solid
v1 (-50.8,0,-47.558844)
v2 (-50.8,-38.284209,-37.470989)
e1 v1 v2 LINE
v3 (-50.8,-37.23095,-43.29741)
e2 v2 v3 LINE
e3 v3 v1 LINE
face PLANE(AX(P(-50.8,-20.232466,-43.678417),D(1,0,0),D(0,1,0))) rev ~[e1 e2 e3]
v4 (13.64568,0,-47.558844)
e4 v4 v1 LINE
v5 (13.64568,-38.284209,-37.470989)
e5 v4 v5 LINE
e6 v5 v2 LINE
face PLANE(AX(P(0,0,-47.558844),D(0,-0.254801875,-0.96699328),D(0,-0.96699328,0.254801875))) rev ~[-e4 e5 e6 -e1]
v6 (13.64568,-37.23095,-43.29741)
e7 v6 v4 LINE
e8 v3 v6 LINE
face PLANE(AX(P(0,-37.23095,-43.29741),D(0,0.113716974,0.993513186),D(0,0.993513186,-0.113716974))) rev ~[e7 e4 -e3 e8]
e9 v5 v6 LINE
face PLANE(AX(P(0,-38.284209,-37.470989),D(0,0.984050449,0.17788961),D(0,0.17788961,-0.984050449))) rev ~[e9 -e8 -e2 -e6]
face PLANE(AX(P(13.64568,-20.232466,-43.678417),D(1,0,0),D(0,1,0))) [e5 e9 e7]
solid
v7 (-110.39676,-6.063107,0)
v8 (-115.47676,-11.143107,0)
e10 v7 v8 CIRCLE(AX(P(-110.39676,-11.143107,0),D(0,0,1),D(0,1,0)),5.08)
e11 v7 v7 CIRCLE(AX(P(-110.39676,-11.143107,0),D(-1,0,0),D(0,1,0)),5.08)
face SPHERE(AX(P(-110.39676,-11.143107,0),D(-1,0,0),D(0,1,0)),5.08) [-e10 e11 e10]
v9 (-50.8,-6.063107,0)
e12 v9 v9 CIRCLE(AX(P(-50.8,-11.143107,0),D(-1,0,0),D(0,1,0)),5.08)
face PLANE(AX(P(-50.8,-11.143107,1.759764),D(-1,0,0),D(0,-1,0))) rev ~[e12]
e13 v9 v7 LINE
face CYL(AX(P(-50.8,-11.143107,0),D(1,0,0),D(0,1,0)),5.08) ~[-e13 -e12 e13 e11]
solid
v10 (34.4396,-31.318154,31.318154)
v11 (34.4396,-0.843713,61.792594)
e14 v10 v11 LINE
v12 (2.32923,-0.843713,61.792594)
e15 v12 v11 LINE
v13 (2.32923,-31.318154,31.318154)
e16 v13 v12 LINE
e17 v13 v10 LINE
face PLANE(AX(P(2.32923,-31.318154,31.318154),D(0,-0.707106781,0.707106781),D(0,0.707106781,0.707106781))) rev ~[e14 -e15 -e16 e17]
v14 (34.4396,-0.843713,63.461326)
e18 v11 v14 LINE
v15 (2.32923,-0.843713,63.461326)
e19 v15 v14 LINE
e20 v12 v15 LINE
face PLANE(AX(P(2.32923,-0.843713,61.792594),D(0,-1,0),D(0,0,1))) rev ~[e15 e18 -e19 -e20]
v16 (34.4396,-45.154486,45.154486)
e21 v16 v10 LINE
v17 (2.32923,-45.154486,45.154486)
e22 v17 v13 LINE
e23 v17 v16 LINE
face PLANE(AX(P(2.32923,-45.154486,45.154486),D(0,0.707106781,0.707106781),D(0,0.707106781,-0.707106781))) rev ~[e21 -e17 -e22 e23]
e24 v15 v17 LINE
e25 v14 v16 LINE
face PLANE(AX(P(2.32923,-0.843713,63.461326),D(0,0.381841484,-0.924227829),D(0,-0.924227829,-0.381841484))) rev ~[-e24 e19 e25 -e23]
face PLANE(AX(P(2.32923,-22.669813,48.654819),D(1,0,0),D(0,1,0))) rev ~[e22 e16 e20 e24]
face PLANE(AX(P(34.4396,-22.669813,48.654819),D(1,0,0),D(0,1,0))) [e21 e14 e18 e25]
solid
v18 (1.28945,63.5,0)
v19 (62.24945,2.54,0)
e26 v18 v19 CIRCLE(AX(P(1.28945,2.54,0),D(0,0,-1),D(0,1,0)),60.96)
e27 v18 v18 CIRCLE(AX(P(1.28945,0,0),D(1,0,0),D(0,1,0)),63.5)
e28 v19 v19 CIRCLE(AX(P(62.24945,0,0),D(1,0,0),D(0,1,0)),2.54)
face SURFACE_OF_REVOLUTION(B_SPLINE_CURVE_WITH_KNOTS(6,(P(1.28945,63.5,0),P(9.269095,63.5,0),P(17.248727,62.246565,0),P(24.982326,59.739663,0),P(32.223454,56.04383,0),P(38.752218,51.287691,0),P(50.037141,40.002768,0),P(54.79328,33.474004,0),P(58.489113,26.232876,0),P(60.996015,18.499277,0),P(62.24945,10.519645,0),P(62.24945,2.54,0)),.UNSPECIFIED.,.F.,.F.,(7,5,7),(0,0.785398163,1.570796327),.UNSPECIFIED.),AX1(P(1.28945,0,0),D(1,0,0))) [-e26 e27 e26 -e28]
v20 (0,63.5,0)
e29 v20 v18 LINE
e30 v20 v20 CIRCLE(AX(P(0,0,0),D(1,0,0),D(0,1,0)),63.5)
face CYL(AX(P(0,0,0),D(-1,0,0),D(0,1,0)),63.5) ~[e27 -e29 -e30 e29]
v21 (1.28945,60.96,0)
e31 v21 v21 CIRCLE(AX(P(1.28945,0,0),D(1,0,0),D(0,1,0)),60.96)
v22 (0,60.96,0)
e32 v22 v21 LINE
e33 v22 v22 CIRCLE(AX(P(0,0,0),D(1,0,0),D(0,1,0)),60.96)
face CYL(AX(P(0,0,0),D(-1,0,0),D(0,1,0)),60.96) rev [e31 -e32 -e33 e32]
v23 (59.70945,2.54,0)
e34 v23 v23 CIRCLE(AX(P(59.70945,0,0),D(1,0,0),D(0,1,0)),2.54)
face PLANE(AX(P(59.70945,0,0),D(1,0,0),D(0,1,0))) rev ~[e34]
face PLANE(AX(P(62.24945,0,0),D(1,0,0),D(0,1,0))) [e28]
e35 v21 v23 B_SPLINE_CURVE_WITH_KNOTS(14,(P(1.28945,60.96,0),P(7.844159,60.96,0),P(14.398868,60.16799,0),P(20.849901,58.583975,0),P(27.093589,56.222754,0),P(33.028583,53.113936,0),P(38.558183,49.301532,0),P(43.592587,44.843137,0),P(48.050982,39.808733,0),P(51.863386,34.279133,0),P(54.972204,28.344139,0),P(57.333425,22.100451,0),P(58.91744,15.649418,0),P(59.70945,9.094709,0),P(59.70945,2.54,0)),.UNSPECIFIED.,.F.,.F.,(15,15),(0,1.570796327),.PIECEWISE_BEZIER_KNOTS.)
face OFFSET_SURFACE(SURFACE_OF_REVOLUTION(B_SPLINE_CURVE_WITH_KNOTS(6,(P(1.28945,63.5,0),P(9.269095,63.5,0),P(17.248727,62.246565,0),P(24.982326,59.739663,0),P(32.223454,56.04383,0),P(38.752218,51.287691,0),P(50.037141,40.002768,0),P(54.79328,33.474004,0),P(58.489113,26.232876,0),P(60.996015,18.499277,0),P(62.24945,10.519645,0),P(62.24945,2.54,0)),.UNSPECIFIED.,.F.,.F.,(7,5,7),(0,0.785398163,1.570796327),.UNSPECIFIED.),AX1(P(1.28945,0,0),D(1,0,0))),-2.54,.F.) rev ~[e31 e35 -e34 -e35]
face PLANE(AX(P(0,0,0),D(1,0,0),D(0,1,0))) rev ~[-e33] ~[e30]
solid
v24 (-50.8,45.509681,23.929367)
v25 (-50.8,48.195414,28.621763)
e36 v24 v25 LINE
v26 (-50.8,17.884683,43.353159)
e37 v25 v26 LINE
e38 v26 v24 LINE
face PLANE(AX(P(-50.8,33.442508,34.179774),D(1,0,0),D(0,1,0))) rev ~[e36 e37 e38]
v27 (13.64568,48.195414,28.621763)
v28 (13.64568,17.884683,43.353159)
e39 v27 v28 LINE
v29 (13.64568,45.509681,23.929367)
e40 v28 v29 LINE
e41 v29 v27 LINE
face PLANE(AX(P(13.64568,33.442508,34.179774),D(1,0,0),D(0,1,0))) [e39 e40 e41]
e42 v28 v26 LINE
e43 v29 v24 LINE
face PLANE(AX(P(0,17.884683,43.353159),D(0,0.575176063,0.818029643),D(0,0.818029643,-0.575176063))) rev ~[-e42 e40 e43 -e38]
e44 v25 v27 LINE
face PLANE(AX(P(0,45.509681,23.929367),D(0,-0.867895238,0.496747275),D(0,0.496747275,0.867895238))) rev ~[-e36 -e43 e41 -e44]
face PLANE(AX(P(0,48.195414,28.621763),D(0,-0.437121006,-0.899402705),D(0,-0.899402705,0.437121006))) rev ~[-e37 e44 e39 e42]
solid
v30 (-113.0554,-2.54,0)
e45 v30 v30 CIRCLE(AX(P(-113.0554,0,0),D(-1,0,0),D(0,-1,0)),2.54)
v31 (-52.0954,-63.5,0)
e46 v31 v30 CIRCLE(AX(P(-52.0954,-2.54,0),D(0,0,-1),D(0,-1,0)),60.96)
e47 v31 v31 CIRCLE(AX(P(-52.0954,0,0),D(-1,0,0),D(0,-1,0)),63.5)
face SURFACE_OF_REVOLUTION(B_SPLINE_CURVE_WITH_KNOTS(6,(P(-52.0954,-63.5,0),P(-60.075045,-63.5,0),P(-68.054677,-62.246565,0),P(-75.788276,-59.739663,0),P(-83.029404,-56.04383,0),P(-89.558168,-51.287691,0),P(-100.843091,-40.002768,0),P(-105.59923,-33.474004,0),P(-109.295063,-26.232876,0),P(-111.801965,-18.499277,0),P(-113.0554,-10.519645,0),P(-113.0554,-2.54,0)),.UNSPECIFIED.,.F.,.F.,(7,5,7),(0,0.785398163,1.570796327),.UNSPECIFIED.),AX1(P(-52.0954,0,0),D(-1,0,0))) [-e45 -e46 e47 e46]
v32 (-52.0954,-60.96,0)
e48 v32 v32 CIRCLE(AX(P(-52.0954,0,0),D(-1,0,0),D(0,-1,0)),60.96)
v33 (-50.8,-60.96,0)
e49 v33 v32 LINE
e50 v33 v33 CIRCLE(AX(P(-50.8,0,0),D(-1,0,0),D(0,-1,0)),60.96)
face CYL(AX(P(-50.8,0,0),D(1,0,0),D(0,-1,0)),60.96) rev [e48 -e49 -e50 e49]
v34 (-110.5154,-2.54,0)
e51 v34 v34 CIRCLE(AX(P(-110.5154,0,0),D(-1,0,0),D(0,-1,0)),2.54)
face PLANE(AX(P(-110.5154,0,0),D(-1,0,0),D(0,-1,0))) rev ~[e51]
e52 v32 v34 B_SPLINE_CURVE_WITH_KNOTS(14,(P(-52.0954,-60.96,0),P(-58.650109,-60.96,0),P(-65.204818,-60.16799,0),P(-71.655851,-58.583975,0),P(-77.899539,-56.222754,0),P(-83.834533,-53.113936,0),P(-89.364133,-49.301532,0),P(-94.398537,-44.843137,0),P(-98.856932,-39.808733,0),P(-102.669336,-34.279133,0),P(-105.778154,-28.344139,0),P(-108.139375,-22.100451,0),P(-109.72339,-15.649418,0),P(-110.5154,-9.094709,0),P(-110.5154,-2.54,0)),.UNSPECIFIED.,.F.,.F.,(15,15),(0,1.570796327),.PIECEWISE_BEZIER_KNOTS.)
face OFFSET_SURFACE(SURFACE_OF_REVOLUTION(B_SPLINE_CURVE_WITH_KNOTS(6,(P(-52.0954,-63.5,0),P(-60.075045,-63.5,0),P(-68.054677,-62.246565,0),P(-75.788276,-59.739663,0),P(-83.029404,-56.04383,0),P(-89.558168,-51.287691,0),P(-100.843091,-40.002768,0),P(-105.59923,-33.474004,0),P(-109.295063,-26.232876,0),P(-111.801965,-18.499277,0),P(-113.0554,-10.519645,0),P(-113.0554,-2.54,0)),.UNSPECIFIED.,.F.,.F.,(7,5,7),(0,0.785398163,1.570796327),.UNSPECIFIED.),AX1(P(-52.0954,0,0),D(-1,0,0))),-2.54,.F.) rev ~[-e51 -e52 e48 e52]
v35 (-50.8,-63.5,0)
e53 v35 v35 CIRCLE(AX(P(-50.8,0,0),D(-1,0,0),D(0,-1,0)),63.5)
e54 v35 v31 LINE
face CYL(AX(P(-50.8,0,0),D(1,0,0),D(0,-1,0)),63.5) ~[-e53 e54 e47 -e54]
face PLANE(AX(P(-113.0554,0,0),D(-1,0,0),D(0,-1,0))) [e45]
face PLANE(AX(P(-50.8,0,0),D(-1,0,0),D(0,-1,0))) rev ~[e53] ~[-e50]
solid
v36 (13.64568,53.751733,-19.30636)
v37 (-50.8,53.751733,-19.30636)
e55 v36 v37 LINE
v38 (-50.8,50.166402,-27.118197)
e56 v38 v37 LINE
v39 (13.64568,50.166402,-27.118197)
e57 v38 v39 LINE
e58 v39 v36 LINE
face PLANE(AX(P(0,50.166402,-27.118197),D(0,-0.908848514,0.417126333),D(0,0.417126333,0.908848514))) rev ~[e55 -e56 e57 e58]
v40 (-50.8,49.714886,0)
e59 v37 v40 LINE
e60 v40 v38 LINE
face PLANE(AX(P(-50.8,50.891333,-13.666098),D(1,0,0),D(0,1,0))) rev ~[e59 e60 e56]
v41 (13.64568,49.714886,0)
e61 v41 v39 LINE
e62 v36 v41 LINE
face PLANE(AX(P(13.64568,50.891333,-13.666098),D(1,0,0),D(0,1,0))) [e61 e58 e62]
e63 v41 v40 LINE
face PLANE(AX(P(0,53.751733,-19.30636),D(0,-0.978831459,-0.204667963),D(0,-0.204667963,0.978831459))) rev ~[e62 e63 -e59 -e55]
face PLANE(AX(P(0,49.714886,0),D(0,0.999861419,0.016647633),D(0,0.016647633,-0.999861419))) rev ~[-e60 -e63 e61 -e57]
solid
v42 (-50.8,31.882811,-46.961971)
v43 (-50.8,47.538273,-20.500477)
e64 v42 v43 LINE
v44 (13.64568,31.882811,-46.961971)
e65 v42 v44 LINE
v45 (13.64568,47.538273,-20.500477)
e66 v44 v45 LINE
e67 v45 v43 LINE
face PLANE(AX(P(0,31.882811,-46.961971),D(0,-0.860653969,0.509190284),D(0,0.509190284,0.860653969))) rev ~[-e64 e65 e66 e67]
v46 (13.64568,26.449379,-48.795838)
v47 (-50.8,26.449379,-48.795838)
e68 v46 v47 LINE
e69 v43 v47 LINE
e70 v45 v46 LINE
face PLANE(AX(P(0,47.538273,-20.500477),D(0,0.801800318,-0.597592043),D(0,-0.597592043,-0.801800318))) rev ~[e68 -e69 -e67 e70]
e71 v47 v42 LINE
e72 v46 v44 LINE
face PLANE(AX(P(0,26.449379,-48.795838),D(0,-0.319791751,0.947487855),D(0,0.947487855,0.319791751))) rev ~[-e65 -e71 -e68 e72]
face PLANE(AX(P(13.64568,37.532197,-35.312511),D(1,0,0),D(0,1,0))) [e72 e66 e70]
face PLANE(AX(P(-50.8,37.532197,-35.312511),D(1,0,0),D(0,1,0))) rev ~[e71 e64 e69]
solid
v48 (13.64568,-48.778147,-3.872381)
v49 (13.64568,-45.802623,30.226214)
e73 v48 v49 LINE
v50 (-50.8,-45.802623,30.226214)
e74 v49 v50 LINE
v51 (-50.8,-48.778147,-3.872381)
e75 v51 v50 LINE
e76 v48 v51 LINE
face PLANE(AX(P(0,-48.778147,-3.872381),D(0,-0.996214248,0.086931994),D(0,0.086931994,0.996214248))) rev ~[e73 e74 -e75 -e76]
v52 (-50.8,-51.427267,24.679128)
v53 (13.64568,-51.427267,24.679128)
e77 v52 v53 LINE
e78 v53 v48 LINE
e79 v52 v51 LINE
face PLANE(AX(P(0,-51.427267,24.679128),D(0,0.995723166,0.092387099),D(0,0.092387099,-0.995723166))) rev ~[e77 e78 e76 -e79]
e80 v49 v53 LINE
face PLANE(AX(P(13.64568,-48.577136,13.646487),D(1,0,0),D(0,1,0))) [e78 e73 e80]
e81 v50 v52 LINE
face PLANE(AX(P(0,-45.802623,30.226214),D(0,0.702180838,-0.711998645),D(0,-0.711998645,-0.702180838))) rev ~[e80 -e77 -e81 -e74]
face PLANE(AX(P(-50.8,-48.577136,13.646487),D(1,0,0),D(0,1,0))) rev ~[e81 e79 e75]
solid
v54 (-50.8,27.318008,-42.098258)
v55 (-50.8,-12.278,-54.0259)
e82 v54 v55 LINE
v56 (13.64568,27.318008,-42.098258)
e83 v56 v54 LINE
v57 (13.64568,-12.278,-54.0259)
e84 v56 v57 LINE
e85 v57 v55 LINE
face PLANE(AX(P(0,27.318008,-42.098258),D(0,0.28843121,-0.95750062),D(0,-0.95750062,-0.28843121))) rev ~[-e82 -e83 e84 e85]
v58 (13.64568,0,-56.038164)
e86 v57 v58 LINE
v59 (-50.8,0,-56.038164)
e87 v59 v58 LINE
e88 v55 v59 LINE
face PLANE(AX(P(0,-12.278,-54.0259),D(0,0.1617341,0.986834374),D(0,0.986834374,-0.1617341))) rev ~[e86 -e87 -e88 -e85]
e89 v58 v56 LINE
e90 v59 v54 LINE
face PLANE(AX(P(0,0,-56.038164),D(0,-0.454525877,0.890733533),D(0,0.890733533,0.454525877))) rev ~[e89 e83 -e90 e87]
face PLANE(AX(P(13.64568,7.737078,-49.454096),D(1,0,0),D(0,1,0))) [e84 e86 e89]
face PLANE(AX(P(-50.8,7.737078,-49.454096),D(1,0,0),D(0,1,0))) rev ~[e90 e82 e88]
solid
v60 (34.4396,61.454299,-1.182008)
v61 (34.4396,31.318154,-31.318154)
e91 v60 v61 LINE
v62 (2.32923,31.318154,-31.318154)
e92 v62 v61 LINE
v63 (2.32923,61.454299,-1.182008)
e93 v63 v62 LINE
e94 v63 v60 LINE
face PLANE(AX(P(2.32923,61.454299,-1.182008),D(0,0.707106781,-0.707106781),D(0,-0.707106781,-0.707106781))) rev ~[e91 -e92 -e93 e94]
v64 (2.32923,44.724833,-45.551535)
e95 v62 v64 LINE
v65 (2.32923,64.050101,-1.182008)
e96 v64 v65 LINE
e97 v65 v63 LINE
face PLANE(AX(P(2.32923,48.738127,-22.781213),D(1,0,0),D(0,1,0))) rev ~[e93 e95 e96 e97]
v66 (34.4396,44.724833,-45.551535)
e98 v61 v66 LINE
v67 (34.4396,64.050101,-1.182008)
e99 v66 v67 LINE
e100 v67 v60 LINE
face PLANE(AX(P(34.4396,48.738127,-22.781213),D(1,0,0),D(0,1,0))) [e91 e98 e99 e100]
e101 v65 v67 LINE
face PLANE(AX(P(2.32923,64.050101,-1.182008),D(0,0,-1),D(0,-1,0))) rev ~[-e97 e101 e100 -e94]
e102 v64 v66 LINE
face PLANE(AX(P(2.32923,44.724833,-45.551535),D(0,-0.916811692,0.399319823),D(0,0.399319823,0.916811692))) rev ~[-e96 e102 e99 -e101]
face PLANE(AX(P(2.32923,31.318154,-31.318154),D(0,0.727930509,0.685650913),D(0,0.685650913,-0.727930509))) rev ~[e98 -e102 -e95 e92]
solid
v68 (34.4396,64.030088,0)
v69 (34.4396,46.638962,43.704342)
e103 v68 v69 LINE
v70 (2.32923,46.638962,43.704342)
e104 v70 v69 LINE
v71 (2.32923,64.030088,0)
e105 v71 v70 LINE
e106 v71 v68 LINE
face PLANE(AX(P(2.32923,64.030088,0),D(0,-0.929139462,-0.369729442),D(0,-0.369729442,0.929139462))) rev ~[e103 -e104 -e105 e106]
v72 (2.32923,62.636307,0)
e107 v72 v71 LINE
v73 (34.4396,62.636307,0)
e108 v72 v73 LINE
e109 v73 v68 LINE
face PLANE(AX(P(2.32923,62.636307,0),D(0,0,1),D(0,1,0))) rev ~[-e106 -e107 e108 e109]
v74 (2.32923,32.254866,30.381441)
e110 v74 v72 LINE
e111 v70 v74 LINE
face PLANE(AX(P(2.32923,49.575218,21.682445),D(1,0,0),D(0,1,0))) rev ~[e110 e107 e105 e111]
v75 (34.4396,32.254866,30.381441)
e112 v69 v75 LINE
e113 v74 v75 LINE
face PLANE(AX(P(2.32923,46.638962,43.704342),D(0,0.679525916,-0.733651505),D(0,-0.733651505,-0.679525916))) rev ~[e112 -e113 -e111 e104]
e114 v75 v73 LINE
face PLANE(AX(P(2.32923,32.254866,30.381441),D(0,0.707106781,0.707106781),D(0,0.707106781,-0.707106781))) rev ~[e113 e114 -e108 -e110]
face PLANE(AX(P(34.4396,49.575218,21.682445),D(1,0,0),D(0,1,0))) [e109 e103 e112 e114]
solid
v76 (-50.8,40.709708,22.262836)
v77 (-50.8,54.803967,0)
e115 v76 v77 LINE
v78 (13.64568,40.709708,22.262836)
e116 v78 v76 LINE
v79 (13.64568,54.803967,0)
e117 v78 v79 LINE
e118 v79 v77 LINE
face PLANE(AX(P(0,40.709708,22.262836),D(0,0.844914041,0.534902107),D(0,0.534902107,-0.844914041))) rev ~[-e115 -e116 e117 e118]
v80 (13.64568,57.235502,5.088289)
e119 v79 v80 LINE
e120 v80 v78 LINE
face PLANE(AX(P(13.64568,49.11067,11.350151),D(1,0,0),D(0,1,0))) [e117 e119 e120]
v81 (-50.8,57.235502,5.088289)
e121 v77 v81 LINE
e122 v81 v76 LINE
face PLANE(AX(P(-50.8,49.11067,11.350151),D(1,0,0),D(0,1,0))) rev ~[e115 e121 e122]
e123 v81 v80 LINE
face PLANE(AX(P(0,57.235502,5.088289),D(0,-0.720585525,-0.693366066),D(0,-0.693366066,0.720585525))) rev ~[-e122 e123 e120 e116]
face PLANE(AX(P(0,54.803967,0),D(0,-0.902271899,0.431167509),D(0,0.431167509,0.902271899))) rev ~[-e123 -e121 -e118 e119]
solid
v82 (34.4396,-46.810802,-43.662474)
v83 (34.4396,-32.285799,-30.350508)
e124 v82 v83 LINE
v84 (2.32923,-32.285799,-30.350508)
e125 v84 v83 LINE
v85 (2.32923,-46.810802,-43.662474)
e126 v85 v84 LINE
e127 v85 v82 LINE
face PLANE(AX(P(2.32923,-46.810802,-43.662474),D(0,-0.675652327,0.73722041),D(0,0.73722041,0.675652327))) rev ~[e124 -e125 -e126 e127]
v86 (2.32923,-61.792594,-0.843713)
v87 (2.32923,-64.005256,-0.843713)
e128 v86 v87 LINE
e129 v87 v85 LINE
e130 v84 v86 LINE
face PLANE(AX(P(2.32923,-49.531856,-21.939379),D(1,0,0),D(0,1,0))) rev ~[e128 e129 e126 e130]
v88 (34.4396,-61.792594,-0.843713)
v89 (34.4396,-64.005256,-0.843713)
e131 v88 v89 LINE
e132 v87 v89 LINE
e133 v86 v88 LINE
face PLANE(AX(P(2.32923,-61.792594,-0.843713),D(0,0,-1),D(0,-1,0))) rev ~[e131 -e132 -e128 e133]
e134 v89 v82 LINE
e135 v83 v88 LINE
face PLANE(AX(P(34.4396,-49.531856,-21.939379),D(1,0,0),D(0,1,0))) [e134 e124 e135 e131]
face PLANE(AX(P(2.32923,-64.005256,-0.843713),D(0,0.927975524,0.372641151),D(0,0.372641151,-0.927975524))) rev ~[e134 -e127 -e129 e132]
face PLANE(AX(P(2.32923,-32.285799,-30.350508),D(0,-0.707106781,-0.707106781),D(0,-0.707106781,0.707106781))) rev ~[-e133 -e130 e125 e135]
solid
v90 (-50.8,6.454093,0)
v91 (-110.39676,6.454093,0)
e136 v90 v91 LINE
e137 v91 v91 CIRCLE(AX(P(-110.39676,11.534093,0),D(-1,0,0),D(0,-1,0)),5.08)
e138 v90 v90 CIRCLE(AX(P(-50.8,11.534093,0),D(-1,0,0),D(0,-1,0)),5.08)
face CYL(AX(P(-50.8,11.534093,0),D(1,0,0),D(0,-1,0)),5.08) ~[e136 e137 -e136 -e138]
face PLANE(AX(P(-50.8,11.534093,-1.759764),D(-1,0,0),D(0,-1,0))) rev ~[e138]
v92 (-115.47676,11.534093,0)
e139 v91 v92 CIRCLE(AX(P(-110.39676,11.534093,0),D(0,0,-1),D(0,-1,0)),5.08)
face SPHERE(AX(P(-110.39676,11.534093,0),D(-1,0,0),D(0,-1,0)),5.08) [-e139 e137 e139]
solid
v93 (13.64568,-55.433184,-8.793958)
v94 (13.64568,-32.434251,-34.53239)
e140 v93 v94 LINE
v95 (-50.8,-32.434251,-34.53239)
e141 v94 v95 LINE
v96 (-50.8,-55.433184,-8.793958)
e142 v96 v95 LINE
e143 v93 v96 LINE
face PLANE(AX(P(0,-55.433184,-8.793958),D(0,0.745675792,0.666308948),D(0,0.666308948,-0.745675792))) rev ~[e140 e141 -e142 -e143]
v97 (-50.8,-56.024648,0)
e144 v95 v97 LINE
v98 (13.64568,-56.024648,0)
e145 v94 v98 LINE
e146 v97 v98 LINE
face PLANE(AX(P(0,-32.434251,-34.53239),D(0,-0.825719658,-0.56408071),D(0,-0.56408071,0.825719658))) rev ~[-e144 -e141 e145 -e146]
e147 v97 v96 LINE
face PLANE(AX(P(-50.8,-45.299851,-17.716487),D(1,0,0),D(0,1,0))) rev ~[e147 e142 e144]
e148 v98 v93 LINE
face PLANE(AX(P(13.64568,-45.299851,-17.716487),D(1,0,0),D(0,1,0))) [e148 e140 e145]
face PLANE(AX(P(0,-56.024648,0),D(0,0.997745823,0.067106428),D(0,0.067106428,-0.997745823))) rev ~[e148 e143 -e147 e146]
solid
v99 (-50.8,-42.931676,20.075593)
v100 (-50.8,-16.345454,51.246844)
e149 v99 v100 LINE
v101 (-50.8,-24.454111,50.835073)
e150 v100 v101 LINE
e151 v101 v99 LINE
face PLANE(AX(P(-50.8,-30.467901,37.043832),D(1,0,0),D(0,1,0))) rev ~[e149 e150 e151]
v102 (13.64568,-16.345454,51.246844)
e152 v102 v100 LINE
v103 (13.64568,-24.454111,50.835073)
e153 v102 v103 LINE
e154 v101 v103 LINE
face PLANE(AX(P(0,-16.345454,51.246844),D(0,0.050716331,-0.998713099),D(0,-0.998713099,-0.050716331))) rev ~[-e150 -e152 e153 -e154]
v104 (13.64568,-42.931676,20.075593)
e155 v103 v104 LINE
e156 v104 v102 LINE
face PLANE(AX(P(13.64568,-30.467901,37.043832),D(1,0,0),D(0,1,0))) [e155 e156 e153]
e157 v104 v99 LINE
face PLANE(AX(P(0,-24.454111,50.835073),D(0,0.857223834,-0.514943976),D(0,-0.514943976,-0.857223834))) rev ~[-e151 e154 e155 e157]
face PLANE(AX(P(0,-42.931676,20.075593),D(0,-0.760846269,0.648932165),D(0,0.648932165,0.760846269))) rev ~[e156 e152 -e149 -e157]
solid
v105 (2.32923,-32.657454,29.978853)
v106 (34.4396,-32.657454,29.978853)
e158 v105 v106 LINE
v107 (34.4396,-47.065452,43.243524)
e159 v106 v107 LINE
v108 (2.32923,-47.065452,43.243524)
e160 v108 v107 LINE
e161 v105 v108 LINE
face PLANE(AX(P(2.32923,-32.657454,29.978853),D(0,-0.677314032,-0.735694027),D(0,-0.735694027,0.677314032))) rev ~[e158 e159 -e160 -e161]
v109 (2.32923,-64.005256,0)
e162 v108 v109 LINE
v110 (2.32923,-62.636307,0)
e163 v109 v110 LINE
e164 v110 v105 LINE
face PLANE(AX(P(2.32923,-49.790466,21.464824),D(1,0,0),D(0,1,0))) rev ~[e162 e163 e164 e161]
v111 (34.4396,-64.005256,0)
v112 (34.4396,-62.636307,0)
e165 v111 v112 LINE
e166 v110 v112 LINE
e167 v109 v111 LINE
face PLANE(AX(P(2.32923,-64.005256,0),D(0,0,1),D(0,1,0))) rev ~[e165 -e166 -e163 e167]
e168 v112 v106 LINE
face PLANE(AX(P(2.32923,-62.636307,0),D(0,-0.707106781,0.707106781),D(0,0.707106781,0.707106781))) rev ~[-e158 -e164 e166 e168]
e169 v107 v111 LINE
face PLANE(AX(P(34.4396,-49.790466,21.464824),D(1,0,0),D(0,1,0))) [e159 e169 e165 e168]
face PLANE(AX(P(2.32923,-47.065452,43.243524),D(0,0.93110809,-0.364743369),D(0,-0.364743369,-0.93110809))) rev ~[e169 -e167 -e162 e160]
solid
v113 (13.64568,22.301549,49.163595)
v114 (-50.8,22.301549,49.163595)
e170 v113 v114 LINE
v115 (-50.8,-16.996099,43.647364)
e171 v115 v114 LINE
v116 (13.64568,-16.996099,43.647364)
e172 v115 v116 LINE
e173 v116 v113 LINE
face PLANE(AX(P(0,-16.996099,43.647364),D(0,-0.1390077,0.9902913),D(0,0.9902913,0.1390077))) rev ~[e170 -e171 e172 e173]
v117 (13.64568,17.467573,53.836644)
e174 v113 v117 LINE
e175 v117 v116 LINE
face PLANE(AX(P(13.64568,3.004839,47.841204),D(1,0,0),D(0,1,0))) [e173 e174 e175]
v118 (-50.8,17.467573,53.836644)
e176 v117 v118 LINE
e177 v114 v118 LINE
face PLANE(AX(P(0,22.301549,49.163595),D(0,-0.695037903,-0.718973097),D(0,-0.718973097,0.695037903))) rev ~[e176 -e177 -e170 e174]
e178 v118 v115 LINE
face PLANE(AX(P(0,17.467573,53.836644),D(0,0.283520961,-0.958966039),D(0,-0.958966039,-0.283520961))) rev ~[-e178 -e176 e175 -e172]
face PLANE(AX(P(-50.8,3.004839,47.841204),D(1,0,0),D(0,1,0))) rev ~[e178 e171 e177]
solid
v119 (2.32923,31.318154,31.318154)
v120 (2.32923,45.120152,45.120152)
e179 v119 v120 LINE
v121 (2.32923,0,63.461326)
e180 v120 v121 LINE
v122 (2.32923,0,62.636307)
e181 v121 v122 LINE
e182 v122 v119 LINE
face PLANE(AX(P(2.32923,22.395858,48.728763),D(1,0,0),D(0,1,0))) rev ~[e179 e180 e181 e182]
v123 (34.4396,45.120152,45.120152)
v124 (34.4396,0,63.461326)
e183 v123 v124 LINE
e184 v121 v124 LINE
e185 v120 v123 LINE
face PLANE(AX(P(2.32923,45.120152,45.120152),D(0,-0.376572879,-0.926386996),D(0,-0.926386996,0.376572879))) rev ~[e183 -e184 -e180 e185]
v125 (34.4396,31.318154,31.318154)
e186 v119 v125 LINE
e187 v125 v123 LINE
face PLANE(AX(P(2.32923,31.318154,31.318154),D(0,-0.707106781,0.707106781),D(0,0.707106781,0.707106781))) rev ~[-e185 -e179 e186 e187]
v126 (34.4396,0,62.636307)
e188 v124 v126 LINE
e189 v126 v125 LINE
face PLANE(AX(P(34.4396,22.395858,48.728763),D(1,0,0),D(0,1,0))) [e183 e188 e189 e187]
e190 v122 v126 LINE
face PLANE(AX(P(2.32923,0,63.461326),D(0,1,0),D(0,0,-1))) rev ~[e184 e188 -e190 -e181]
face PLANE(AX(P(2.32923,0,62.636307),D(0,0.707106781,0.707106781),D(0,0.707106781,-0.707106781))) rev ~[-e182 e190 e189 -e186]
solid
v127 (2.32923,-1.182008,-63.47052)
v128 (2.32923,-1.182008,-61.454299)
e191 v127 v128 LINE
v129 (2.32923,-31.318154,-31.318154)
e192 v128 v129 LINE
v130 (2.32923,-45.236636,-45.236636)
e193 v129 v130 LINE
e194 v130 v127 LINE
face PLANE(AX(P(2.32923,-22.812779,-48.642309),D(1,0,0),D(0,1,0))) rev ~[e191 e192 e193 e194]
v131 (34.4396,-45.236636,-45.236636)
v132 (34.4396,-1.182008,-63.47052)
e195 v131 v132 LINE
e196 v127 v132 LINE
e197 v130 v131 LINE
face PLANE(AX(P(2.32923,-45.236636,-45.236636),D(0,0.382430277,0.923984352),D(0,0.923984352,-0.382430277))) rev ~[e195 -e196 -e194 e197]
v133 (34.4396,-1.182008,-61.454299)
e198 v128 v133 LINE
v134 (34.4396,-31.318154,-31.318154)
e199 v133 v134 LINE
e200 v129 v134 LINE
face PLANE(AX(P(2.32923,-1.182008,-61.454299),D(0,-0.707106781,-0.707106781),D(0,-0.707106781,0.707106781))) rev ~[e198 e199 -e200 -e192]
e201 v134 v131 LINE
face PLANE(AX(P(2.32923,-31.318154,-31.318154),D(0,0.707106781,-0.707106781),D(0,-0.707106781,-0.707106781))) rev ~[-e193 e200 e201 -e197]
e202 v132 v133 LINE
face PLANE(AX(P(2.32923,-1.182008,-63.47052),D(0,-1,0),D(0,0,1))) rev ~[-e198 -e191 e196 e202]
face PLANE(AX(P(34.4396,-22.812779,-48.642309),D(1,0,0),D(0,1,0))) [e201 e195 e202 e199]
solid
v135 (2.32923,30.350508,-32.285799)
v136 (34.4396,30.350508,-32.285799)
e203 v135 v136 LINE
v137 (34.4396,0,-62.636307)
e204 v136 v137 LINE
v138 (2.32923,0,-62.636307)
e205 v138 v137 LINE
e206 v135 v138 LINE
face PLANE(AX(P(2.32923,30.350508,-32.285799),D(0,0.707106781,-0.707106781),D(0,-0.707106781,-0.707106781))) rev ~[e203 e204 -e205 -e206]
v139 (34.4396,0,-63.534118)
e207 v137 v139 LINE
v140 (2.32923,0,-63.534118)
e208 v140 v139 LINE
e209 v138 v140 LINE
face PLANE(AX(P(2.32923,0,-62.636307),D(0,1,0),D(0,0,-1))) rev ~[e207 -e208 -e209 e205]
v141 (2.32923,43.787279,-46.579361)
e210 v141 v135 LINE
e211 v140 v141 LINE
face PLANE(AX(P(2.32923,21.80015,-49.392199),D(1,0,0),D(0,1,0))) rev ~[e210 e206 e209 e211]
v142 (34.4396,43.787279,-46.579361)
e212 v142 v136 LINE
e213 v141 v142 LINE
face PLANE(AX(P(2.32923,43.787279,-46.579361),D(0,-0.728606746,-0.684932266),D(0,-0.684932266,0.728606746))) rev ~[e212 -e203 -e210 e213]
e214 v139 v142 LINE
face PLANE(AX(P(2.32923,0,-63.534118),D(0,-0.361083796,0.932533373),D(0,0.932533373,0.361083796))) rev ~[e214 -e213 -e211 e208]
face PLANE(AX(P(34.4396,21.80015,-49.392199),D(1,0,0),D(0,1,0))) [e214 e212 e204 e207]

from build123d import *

# Parameters (mm, degrees)
F0_R          = 63.5
F1_DEPTH      = 62.24945
F2_R          = 60.96
F3_T          = -2.54
F5_DEPTH      = 50.8
F5_DEPTH_BACK = 13.64568
F7_START      = 2.32923
F7_DEPTH      = 32.11037
F8_R          = 63.5
F9_DEPTH      = 62.2554
F10_R         = 60.96
F11_T         = -2.54
F13_DEPTH     = 64.67676
F14_R         = 5.08
F14_2_R       = 5.08


with BuildPart() as f1:
    # F0 (on Right) → F1 (new body)
    with BuildSketch(Plane.YZ):
        Circle(F0_R)
    extrude(amount=F1_DEPTH)

    # F2
    f2_edges = [f1.edges().sort_by_distance(p)[0] for p in [
        (62.24945, -63.5, 0),
    ]]
    fillet(f2_edges, radius=F2_R)

    # F3
    f3_openings = [f1.faces().sort_by_distance(p)[0] for p in [
        (0, 0, 0),
    ]]
    offset(amount=F3_T, openings=f3_openings)


with BuildPart() as f5:
    # F4 (on Right) → F5 (new body, two sides)
    with BuildSketch(Plane.YZ) as f5_sk:
        Polygon((-12.2779998928, -54.0258996189), (0, -56.0381636024), (27.318008244, -42.0982576907), align=None)
    extrude(amount=-F5_DEPTH)
    extrude(f5_sk.sketch, amount=F5_DEPTH_BACK)


with BuildPart() as f5b:
    # F4 (on Right) → F5, piece 2 (new body, two sides)
    with BuildSketch(Plane.YZ) as f5_2_sk:
        Polygon((26.4493785799, -48.795837909), (31.8828113377, -46.9619706273), (47.5382730365, -20.5004774034), align=None)
    extrude(amount=-F5_DEPTH)
    extrude(f5_2_sk.sketch, amount=F5_DEPTH_BACK)


with BuildPart() as f5c:
    # F4 (on Right) → F5, piece 3 (new body, two sides)
    with BuildSketch(Plane.YZ) as f5_3_sk:
        Polygon((54.8039674759, 0), (57.2355017066, 5.0882892683), (40.709707886, 22.2628358752), align=None)
    extrude(amount=-F5_DEPTH)
    extrude(f5_3_sk.sketch, amount=F5_DEPTH_BACK)


with BuildPart() as f5d:
    # F4 (on Right) → F5, piece 4 (new body, two sides)
    with BuildSketch(Plane.YZ) as f5_4_sk:
        Polygon((45.5096811056, 23.9293668419), (48.1954142451, 28.621762991), (17.884682864, 43.3531589806), align=None)
    extrude(amount=-F5_DEPTH)
    extrude(f5_4_sk.sketch, amount=F5_DEPTH_BACK)


with BuildPart() as f5e:
    # F4 (on Right) → F5, piece 5 (new body, two sides)
    with BuildSketch(Plane.YZ) as f5_5_sk:
        Polygon((17.4675732851, 53.8366436958), (-16.9960986823, 43.6473637819), (22.3015490919, 49.163594842), align=None)
    extrude(amount=-F5_DEPTH)
    extrude(f5_5_sk.sketch, amount=F5_DEPTH_BACK)


with BuildPart() as f5f:
    # F4 (on Right) → F5, piece 6 (new body, two sides)
    with BuildSketch(Plane.YZ) as f5_6_sk:
        Polygon((49.7148856521, 0), (50.1664020121, -27.1181967109), (53.7517331541, -19.3063598126), align=None)
    extrude(amount=-F5_DEPTH)
    extrude(f5_6_sk.sketch, amount=F5_DEPTH_BACK)


with BuildPart() as f5g:
    # F4 (on Right) → F5, piece 7 (new body, two sides)
    with BuildSketch(Plane.YZ) as f5_7_sk:
        Polygon((-16.3454543799, 51.2468442321), (-24.4541112334, 50.8350729942), (-42.9316759109, 20.0755931437), align=None)
    extrude(amount=-F5_DEPTH)
    extrude(f5_7_sk.sketch, amount=F5_DEPTH_BACK)


with BuildPart() as f5h:
    # F4 (on Right) → F5, piece 8 (new body, two sides)
    with BuildSketch(Plane.YZ) as f5_8_sk:
        Polygon((-45.8026230335, 30.2262138575), (-51.4272674918, 24.6791280806), (-48.7781465054, -3.8723812904), align=None)
    extrude(amount=-F5_DEPTH)
    extrude(f5_8_sk.sketch, amount=F5_DEPTH_BACK)


with BuildPart() as f5i:
    # F4 (on Right) → F5, piece 9 (new body, two sides)
    with BuildSketch(Plane.YZ) as f5_9_sk:
        Polygon((-32.4342508783, -34.5323896163), (-56.0246482491, 0), (-55.4331839085, -8.7939575315), align=None)
    extrude(amount=-F5_DEPTH)
    extrude(f5_9_sk.sketch, amount=F5_DEPTH_BACK)


with BuildPart() as f5j:
    # F4 (on Right) → F5, piece 10 (new body, two sides)
    with BuildSketch(Plane.YZ) as f5_10_sk:
        Polygon((-38.2842086256, -37.4709889293), (-37.2309498489, -43.2974100113), (0, -47.5588440895), align=None)
    extrude(amount=-F5_DEPTH)
    extrude(f5_10_sk.sketch, amount=F5_DEPTH_BACK)


with BuildPart() as f7:
    # F6 (on Right) → F7 (new body)
    with BuildSketch(Plane.YZ.offset(F7_START)):
        Polygon((30.3505084311, -32.2857986038), (0, -62.6363070349), (0, -63.5341182351), (43.7872794107, -46.5793608589), align=None)
    extrude(amount=F7_DEPTH)


with BuildPart() as f7b:
    # F6 (on Right) → F7, piece 2 (new body)
    with BuildSketch(Plane.YZ.offset(F7_START)):
        Polygon((-1.1820078661, -61.4542991688), (-31.3181535175, -31.3181535175), (-45.2366359532, -45.2366359532), (-1.1820078661, -63.4705200791), align=None)
    extrude(amount=F7_DEPTH)


with BuildPart() as f7c:
    # F6 (on Right) → F7, piece 3 (new body)
    with BuildSketch(Plane.YZ.offset(F7_START)):
        Polygon((-32.2857986038, -30.3505084311), (-61.7925937994, -0.8437132355), (-64.0052556992, -0.8437132355), (-46.8108020723, -43.6624735594), align=None)
    extrude(amount=F7_DEPTH)


with BuildPart() as f7d:
    # F6 (on Right) → F7, piece 4 (new body)
    with BuildSketch(Plane.YZ.offset(F7_START)):
        Polygon((61.4542991688, -1.1820078661), (31.3181535175, -31.3181535175), (44.7248327836, -45.5515347855), (64.0501007438, -1.1820078661), align=None)
    extrude(amount=F7_DEPTH)


with BuildPart() as f7e:
    # F6 (on Right) → F7, piece 5 (new body)
    with BuildSketch(Plane.YZ.offset(F7_START)):
        Polygon((32.2548656558, 30.3814413791), (62.6363070349, 0), (64.0300884843, 0), (46.6389618814, 43.704342097), align=None)
    extrude(amount=F7_DEPTH)


with BuildPart() as f7f:
    # F6 (on Right) → F7, piece 6 (new body)
    with BuildSketch(Plane.YZ.offset(F7_START)):
        Polygon((0, 63.4613260627), (0, 62.6363070349), (31.3181535175, 31.3181535175), (45.1201517135, 45.1201517135), align=None)
    extrude(amount=F7_DEPTH)


with BuildPart() as f7g:
    # F6 (on Right) → F7, piece 7 (new body)
    with BuildSketch(Plane.YZ.offset(F7_START)):
        Polygon((-45.1544858515, 45.1544858515), (-31.3181535175, 31.3181535175), (-0.8437132355, 61.7925937994), (-0.8437132355, 63.4613260627), align=None)
    extrude(amount=F7_DEPTH)


with BuildPart() as f7h:
    # F6 (on Right) → F7, piece 8 (new body)
    with BuildSketch(Plane.YZ.offset(F7_START)):
        Polygon((-64.0052556992, 0), (-62.6363070349, 0), (-32.6574540531, 29.9788529819), (-47.0654517412, 43.2435236871), align=None)
    extrude(amount=F7_DEPTH)


with BuildPart() as f9:
    # F8 (on face) → F9 (new body)
    with BuildSketch(Plane(origin=(-50.8, 0, 0), x_dir=(0, -1, 0), z_dir=(-1, 0, 0))):
        Circle(F8_R)
    extrude(amount=F9_DEPTH)

    # F10
    f10_edges = [f9.edges().sort_by_distance(p)[0] for p in [
        (-113.0554, 63.5, 0),
    ]]
    fillet(f10_edges, radius=F10_R)

    # F11
    f11_openings = [f9.faces().sort_by_distance(p)[0] for p in [
        (-50.8, 0, 0),
    ]]
    offset(amount=F11_T, openings=f11_openings)


with BuildPart() as f13:
    # F12 (on face) → F13 (new body)
    with BuildSketch(Plane(origin=(-50.8, 0, 0), x_dir=(0, -1, 0), z_dir=(-1, 0, 0))):
        with BuildLine():
            ThreePointArc((16.2231074956, 0), (11.1431074956, 5.08), (6.0631074956, 0))
            Line((6.0631074956, 0), (16.2231074956, 0))
        make_face()
        with BuildLine():
            Line((16.2231074956, 0), (6.0631074956, 0))
            ThreePointArc((6.0631074956, 0), (11.1431074956, -5.08), (16.2231074956, 0))
        make_face()
    extrude(amount=F13_DEPTH)

    # F14#2
    f14_2_edges = [f13.edges().sort_by_distance(p)[0] for p in [
        (-115.47676, -16.223107, 0),
    ]]
    fillet(f14_2_edges, radius=F14_2_R)


with BuildPart() as f13b:
    # F12 (on face) → F13, piece 2 (new body)
    with BuildSketch(Plane(origin=(-50.8, 0, 0), x_dir=(0, -1, 0), z_dir=(-1, 0, 0))):
        with BuildLine():
            ThreePointArc((-16.6140926485, 0), (-11.5340926485, -5.08), (-6.4540926485, 0))
            Line((-6.4540926485, 0), (-16.6140926485, 0))
        make_face()
        with BuildLine():
            Line((-16.6140926485, 0), (-6.4540926485, 0))
            ThreePointArc((-6.4540926485, 0), (-11.5340926485, 5.08), (-16.6140926485, 0))
        make_face()
    extrude(amount=F13_DEPTH)

    # F14
    f14_edges = [f13b.edges().sort_by_distance(p)[0] for p in [
        (-115.47676, 16.614093, 0),
    ]]
    fillet(f14_edges, radius=F14_R)


solid = Compound([f1.part, f5.part, f5b.part, f5c.part, f5d.part, f5e.part, f5f.part, f5g.part, f5h.part, f5i.part, f5j.part, f7.part, f7b.part, f7c.part, f7d.part, f7e.part, f7f.part, f7g.part, f7h.part, f9.part, f13.part, f13b.part])
